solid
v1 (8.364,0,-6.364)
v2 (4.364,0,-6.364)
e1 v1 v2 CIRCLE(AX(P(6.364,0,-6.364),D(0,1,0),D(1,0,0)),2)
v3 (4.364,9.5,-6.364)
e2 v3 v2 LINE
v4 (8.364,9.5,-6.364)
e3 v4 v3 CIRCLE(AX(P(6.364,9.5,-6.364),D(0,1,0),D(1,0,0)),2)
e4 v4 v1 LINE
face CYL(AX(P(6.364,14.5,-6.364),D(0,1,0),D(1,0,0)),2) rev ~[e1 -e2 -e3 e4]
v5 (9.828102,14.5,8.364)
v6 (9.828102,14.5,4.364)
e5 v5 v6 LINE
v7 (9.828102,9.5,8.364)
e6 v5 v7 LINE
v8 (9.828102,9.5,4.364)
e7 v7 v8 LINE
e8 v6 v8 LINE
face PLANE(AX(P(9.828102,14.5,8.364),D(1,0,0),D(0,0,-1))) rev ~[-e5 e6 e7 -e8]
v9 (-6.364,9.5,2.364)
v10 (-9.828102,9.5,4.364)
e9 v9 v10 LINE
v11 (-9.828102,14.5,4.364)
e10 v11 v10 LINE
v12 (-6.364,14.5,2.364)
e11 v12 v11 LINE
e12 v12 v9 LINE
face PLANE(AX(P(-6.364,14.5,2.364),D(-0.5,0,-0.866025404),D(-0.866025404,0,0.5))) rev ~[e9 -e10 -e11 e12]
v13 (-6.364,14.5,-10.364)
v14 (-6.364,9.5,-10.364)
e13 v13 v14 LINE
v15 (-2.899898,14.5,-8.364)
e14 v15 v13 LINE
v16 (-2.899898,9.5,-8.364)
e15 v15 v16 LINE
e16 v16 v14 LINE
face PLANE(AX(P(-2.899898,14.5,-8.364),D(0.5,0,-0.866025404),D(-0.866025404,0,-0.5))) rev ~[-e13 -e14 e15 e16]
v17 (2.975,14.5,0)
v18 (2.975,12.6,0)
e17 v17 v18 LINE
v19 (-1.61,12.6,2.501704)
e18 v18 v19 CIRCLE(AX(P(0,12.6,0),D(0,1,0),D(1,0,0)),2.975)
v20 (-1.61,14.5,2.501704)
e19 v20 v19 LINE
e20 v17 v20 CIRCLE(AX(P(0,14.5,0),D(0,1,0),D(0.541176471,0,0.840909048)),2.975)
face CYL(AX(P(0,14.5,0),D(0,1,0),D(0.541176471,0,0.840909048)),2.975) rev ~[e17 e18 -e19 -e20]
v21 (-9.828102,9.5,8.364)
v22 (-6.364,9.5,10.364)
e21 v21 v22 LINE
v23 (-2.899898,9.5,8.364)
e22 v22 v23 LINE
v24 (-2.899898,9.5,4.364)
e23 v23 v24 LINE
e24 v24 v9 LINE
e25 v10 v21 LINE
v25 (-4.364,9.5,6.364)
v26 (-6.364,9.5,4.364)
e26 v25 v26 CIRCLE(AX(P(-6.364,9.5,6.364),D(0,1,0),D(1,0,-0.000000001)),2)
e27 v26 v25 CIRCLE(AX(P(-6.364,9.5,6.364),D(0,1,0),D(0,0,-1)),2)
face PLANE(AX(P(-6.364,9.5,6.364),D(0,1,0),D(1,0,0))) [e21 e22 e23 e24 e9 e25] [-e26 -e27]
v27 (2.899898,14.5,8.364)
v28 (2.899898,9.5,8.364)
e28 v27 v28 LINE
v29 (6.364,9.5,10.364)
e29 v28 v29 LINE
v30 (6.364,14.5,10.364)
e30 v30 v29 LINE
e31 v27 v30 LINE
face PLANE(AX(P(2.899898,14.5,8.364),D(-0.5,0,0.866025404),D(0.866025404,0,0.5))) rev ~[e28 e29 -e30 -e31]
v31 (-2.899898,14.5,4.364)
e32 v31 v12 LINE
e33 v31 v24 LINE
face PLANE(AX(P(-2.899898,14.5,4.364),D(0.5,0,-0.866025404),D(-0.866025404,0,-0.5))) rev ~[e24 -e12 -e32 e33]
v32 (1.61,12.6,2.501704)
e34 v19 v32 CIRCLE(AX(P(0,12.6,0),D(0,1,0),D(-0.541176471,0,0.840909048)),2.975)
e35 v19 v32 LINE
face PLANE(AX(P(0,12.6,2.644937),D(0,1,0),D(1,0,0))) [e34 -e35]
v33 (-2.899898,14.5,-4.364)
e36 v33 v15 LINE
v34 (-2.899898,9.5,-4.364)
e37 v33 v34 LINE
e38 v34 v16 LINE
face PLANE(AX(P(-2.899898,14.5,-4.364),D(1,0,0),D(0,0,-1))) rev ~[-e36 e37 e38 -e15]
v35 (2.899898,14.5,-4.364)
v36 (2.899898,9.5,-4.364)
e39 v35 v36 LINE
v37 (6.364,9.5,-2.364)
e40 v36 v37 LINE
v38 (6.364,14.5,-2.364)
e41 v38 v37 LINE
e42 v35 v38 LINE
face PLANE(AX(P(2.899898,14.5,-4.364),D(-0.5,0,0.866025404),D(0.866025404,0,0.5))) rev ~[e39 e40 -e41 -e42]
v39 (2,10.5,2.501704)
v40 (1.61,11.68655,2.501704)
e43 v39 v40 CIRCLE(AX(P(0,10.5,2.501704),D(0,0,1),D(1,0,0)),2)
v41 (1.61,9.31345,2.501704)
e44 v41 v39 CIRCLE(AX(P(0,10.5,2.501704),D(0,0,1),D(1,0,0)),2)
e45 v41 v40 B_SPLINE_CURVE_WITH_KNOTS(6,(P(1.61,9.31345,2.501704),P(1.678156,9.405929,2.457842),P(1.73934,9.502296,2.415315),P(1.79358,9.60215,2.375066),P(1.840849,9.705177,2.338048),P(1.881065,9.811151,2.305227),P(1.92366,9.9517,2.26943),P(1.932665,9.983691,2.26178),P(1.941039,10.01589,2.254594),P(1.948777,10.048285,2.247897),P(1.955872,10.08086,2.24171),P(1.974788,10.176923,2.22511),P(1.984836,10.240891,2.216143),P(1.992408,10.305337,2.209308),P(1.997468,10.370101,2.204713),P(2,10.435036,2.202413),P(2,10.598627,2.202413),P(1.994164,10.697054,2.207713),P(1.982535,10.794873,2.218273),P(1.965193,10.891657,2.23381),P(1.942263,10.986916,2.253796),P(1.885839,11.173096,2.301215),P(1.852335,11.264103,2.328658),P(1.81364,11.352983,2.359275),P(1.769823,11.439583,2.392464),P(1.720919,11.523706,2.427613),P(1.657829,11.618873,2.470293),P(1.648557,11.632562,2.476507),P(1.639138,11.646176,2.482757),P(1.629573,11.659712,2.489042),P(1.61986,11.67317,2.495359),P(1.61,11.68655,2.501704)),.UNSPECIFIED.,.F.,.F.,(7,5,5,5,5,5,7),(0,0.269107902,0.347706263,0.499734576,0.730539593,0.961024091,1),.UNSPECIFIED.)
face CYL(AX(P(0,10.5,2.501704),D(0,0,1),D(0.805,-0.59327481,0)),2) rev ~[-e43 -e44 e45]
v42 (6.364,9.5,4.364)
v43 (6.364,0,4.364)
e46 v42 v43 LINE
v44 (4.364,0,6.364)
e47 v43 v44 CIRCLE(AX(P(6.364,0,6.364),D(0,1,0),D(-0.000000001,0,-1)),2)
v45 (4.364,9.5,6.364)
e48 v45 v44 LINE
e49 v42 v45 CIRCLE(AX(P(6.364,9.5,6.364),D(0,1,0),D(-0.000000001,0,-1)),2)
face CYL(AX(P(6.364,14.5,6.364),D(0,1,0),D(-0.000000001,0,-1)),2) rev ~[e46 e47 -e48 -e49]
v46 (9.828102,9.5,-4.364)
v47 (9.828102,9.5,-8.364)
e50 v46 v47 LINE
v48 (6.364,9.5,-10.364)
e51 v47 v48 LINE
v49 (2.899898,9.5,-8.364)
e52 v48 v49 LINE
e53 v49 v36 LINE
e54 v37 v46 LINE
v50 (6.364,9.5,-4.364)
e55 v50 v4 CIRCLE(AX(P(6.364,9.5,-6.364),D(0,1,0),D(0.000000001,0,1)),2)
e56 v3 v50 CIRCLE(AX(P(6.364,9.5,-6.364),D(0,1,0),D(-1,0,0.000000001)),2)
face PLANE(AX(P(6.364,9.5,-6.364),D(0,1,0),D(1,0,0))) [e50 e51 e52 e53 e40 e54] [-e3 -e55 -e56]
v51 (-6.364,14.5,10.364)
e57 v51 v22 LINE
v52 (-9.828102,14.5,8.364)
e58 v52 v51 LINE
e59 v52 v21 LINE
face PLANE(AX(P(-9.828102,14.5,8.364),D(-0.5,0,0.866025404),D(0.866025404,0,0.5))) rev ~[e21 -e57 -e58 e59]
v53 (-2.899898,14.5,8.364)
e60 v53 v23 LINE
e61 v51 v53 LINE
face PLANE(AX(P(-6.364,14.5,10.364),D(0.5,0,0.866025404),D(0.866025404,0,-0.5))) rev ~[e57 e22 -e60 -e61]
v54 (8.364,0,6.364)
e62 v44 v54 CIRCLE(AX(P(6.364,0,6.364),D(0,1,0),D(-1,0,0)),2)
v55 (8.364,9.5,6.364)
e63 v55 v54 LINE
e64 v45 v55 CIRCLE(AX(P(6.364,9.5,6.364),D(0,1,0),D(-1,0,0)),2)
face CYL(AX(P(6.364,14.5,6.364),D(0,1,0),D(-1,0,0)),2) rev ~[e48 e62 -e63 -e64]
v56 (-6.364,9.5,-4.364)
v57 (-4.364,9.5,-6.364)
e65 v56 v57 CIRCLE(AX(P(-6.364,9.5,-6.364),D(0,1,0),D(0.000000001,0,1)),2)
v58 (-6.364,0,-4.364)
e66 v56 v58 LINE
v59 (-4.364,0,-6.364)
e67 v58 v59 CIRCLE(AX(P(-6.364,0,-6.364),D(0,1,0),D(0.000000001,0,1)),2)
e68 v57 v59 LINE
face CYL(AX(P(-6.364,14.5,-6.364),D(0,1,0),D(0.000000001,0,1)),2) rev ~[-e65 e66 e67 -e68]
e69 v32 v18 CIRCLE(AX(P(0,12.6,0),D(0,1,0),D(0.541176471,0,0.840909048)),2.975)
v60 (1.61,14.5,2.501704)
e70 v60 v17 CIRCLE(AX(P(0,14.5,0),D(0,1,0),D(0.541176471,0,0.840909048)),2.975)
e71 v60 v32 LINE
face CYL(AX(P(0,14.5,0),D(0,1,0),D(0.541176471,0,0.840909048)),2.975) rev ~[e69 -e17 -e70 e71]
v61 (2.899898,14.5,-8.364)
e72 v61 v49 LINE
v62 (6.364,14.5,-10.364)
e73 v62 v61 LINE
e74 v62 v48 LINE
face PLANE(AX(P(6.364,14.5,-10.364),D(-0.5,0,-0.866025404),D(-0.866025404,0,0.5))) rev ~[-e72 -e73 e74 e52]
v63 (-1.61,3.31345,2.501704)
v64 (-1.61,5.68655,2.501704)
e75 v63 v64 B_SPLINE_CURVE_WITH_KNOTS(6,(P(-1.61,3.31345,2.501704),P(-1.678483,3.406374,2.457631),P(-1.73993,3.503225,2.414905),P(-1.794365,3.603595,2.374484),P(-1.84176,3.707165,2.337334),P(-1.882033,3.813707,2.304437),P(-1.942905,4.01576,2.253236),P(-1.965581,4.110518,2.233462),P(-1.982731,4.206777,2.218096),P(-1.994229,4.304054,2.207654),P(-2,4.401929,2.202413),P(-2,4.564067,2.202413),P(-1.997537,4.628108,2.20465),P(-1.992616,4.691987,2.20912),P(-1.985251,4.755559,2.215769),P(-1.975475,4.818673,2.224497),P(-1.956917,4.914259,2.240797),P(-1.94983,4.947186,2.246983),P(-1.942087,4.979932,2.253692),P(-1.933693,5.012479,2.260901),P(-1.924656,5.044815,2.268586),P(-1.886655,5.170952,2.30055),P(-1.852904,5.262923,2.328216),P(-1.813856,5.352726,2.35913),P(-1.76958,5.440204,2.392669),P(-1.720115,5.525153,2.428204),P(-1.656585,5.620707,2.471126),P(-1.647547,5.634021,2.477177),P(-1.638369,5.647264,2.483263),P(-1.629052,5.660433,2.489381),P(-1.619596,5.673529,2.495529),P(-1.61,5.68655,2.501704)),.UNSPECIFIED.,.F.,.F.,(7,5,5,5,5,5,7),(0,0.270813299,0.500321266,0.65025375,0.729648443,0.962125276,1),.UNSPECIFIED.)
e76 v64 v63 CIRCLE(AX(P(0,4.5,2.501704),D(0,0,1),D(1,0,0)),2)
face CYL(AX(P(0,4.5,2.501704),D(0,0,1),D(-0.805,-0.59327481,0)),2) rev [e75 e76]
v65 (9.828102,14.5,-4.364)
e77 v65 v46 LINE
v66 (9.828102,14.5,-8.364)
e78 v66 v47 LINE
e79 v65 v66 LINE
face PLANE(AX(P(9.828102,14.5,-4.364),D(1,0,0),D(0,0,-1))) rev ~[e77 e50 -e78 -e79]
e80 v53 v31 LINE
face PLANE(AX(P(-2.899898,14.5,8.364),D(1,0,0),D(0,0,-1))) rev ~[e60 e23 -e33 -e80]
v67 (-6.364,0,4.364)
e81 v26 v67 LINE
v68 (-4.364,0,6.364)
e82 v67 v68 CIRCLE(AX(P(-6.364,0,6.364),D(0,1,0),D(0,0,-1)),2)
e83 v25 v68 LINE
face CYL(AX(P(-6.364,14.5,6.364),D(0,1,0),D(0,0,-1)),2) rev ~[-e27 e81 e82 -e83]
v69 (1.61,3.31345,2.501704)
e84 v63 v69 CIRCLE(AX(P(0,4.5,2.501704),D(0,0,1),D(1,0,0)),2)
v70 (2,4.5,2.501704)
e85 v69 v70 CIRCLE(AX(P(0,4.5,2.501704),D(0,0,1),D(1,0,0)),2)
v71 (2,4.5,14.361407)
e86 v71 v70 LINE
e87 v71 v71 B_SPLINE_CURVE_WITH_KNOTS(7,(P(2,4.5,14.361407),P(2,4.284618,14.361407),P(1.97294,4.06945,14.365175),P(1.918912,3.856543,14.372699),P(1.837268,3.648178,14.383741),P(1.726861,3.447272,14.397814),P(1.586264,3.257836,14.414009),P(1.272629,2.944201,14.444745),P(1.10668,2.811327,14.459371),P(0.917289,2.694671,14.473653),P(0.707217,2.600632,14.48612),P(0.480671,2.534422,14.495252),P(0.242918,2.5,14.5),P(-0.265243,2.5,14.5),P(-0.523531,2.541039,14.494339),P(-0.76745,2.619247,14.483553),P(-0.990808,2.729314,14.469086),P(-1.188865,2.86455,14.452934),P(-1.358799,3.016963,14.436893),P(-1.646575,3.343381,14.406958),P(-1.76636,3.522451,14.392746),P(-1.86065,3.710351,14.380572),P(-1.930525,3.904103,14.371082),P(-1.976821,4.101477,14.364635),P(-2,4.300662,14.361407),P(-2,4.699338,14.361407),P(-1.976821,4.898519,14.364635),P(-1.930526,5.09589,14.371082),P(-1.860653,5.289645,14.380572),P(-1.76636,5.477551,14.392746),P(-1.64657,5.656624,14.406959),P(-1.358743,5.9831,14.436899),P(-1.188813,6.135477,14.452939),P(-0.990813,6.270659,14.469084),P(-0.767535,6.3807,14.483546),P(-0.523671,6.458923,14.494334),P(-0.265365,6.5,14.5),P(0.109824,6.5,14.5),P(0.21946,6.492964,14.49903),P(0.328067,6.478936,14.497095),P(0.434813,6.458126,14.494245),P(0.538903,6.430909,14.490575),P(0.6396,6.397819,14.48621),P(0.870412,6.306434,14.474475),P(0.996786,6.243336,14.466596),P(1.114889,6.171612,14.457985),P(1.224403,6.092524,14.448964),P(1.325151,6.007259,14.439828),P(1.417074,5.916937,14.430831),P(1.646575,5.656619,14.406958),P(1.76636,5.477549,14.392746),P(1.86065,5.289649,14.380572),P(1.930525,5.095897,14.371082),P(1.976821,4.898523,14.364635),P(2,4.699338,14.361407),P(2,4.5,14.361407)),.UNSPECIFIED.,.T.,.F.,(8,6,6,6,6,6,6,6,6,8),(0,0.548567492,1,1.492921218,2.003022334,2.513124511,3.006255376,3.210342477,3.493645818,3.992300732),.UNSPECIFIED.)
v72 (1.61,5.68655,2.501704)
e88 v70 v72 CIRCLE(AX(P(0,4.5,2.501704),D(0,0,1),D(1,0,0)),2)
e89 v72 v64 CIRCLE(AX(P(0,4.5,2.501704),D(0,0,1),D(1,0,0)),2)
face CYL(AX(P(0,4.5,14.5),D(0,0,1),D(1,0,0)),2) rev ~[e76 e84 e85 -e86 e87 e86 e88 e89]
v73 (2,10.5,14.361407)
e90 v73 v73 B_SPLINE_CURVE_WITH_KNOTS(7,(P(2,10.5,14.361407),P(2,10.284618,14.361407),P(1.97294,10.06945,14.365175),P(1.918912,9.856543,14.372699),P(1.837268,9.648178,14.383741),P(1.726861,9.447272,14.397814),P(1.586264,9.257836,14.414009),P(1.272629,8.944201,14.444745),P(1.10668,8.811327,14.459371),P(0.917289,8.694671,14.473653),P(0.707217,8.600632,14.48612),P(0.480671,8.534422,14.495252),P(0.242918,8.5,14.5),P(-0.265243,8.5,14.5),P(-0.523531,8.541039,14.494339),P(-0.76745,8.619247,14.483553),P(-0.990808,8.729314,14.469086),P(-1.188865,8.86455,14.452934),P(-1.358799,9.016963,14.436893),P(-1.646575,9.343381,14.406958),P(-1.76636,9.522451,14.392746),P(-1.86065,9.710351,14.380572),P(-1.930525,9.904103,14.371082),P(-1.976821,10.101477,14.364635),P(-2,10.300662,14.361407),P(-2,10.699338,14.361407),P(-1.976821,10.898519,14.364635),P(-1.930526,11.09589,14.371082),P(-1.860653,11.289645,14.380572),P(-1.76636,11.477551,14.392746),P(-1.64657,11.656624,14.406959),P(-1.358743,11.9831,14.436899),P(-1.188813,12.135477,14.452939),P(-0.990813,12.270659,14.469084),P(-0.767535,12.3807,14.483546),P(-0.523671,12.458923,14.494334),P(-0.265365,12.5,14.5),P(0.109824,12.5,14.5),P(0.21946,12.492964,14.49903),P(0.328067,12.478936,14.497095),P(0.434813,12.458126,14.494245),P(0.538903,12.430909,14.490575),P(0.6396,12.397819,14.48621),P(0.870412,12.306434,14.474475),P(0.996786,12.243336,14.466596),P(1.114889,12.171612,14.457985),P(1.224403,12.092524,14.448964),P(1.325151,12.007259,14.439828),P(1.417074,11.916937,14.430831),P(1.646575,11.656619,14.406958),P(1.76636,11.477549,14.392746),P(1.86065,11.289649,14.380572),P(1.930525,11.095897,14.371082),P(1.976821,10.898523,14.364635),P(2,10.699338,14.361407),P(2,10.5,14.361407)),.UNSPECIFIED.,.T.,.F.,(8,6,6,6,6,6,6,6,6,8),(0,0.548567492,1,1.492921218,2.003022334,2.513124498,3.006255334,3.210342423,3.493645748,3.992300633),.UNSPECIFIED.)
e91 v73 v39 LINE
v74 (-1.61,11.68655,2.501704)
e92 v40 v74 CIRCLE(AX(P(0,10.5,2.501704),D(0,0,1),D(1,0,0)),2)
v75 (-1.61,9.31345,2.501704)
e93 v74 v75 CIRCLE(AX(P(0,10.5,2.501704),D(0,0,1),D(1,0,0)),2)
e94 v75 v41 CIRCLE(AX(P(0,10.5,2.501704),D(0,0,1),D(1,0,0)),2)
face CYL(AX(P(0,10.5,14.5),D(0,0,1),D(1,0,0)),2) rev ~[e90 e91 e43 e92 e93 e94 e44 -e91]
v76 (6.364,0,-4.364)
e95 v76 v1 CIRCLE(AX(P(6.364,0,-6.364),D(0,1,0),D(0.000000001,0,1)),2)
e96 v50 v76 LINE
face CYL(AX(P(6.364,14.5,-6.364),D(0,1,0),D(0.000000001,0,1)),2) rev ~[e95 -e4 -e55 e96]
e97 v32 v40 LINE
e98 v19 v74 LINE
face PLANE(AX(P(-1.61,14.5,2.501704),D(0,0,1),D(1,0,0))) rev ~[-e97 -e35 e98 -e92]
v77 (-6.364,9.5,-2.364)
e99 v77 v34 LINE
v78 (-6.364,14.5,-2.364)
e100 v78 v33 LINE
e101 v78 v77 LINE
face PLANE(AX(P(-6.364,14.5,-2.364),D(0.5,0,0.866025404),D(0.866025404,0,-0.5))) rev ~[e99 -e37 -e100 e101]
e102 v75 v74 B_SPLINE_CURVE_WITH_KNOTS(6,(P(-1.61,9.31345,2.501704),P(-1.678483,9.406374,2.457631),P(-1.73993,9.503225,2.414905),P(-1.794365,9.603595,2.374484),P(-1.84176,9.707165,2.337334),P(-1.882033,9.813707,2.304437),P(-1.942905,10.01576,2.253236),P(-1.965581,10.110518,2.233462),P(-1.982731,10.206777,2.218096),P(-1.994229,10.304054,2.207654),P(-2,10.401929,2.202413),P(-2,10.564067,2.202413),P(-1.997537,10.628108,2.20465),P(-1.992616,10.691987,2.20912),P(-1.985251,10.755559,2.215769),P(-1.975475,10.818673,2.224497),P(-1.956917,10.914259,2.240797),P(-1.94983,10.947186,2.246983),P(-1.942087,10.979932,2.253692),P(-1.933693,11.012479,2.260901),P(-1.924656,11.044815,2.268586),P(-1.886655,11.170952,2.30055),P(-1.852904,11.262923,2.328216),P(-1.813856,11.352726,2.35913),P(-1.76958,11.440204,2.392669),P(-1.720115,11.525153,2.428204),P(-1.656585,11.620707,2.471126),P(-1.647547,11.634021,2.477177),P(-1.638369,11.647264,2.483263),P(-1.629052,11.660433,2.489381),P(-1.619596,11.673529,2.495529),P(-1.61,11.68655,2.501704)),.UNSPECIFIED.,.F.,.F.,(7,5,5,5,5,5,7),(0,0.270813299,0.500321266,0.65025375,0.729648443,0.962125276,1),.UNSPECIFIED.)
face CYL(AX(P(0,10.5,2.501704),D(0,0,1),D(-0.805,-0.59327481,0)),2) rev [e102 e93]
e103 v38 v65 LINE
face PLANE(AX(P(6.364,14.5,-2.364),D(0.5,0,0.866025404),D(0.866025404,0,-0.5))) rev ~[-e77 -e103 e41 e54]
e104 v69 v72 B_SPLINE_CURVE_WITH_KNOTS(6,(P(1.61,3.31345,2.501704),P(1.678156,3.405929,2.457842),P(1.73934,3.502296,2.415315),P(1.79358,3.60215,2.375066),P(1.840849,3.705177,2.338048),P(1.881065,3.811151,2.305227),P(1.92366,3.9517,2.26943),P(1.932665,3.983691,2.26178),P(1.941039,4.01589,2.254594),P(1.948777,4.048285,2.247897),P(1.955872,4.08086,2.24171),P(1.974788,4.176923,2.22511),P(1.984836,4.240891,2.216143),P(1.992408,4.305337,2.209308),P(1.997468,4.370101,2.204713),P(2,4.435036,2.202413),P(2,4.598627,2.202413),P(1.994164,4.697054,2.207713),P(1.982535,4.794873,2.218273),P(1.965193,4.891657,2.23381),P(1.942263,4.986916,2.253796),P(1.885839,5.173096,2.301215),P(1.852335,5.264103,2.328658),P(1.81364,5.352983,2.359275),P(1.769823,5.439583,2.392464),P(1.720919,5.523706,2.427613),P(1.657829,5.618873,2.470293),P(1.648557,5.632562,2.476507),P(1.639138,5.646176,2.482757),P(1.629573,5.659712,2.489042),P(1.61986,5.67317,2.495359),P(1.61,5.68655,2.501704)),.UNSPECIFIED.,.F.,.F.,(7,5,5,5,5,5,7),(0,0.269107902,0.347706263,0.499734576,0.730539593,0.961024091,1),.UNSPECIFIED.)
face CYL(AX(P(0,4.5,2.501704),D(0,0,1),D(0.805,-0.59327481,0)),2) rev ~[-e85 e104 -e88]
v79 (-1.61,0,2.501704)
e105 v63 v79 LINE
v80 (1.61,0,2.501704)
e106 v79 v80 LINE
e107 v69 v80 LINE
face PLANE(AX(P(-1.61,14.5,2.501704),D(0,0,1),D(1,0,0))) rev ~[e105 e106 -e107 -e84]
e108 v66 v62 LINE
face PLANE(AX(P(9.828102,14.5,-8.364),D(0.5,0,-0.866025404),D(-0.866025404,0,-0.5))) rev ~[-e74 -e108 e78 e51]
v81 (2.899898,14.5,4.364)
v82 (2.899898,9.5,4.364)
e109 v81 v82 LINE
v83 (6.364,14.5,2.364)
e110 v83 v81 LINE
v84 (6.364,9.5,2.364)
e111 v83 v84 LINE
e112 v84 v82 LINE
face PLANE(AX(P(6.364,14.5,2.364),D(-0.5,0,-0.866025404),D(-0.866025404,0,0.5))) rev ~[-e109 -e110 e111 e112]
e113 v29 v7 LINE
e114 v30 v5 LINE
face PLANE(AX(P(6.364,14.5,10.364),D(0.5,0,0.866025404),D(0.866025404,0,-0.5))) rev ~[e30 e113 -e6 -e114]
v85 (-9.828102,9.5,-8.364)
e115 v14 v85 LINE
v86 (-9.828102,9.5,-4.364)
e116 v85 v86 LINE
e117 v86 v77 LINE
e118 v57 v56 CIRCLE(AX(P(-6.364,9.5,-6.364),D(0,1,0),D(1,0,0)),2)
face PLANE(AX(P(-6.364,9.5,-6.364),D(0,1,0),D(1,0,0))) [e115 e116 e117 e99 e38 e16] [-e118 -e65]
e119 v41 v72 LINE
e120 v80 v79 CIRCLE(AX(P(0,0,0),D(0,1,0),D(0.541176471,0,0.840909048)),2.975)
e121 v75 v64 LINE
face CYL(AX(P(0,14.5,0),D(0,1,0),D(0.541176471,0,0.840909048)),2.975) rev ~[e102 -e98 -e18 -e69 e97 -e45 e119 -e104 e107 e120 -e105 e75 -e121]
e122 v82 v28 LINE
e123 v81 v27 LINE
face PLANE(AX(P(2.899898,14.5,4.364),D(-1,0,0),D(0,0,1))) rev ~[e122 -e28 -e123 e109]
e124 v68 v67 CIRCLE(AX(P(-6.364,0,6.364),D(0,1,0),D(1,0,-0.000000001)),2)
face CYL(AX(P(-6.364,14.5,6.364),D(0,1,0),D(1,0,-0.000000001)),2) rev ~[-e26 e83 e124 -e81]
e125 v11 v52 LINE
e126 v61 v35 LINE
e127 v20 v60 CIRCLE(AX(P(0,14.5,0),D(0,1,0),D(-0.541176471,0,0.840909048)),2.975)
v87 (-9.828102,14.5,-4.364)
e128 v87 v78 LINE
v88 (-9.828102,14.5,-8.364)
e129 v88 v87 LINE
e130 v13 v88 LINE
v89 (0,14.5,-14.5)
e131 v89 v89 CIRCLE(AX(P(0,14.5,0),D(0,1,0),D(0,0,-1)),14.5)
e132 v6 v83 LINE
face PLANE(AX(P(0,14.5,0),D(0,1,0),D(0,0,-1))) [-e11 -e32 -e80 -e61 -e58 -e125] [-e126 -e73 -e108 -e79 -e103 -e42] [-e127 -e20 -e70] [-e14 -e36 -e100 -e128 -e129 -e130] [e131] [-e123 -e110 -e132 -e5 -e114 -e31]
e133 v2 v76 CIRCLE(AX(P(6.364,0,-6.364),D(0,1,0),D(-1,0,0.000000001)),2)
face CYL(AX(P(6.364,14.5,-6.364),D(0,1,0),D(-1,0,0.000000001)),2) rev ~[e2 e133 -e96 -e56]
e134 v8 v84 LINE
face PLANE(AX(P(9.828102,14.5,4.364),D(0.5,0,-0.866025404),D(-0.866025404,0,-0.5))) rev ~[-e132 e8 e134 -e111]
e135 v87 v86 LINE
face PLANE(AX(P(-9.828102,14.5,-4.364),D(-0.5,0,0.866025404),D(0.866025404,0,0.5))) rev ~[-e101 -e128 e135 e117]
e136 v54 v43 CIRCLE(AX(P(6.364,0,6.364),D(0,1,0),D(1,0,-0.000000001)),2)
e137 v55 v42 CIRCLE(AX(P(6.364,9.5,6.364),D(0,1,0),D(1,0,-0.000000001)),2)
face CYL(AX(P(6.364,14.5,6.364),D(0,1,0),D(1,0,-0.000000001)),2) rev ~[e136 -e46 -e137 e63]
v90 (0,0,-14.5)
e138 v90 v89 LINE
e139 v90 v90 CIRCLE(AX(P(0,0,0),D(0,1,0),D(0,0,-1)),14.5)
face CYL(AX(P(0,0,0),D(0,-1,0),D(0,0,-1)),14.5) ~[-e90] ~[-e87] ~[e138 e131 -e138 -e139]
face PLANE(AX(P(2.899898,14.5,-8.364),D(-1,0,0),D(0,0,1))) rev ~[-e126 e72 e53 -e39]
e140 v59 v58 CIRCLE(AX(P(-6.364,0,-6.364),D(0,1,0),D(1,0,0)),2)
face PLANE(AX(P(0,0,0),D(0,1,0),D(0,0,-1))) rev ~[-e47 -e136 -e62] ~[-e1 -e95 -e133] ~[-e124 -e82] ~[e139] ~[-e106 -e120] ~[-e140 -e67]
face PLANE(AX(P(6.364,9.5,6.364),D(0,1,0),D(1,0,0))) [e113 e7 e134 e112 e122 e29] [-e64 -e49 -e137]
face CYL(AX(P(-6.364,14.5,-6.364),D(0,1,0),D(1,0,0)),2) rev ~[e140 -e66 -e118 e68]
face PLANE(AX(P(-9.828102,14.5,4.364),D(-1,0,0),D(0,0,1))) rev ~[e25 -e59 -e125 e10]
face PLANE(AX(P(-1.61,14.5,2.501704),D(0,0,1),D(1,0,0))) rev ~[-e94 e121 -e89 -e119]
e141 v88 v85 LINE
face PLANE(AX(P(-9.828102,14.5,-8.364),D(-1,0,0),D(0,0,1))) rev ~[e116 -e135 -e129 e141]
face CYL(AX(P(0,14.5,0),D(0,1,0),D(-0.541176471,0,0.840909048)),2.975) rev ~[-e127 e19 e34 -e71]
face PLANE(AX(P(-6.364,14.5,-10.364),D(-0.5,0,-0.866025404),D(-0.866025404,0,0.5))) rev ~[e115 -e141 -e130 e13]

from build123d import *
from build123d.topology import SkipClean

# Parameters (mm, degrees)
CROQUIS1_R              = 14.5
SALIENTE_EXTRUIR1_DEPTH = 14.5
CORTAR_EXTRUIR1_DEPTH   = 26.11473671
CORTAR_EXTRUIR2_DEPTH   = 26.11473671
CORTAR_EXTRUIR3_DEPTH   = 5
MATRIZL1_COUNT          = 2
MATRIZL1_PITCH          = 12.728
MATRIZL1_COUNT_DIR2     = 2
MATRIZL1_PITCH_DIR2     = 12.728
CROQUIS6_R              = 2
CORTAR_EXTRUIR4_DEPTH   = 11.998295581
CORTAR_EXTRUIR5_DEPTH   = 1
CORTAR_EXTRUIR9_DEPTH   = 1.9


with BuildPart() as part:
    # Croquis1 → Saliente-Extruir1 (new body)
    with BuildSketch(Plane(origin=(0, 0, 0), x_dir=(1, 0, 0), z_dir=(0, 1, 0))):
        with Locations(Location((0, 0, 0), (0, 0, 90))):
            Circle(CROQUIS1_R)
    extrude(amount=SALIENTE_EXTRUIR1_DEPTH)

    # Croquis2 → Cortar-Extruir1 (cut, through all)
    with BuildSketch(Plane(origin=(0, 14.5, 0), x_dir=(1, 0, 0), z_dir=(0, 1, 0))):
        with BuildLine():
            Line((-1.61, -2.501704419), (1.61, -2.501704419))
            ThreePointArc((1.61, -2.501704419), (0, 2.975), (-1.61, -2.501704419))
        make_face()
    extrude(amount=-CORTAR_EXTRUIR1_DEPTH, mode=Mode.SUBTRACT)

    # Croquis3 → Cortar-Extruir2 (cut, through all)
    with BuildSketch(Plane(origin=(0, 14.5, 0), x_dir=(1, 0, 0), z_dir=(0, 1, 0))):
        with BuildLine():
            ThreePointArc((-4.364, 6.364), (-7.778213562, 7.778213562), (-6.364, 4.364))
            Line((-6.364, 4.364), (-6.364, 6.364))
            Line((-6.364, 6.364), (-4.364, 6.364))
        make_face()
        with BuildLine():
            Line((-6.364, 6.364), (-6.364, 4.364))
            ThreePointArc((-6.364, 4.364), (-4.949786438, 4.949786438), (-4.364, 6.364))
            Line((-4.364, 6.364), (-6.364, 6.364))
        make_face()
        with BuildLine():
            Line((-6.364, -4.364), (-6.364, -6.364))
            Line((-6.364, -6.364), (-4.364, -6.364))
            ThreePointArc((-4.364, -6.364), (-4.949786438, -4.949786438), (-6.364, -4.364))
        make_face()
        with BuildLine():
            Line((-4.364, -6.364), (-6.364, -6.364))
            Line((-6.364, -6.364), (-6.364, -4.364))
            ThreePointArc((-6.364, -4.364), (-7.778213562, -7.778213562), (-4.364, -6.364))
        make_face()
        with BuildLine():
            ThreePointArc((6.364, -4.364), (4.949786438, -4.949786438), (4.364, -6.364))
            Line((4.364, -6.364), (6.364, -6.364))
            Line((6.364, -6.364), (6.364, -4.364))
        make_face()
        with BuildLine():
            Line((6.364, -6.364), (4.364, -6.364))
            ThreePointArc((4.364, -6.364), (6.364, -8.364), (8.364, -6.364))
            ThreePointArc((8.364, -6.364), (7.778213562, -4.949786438), (6.364, -4.364))
            Line((6.364, -4.364), (6.364, -6.364))
        make_face()
        with BuildLine():
            ThreePointArc((4.364, 6.364), (4.949786438, 4.949786438), (6.364, 4.364))
            Line((6.364, 4.364), (6.364, 6.364))
            Line((6.364, 6.364), (4.364, 6.364))
        make_face()
        with BuildLine():
            Line((6.364, 6.364), (6.364, 4.364))
            ThreePointArc((6.364, 4.364), (7.778213562, 4.949786438), (8.364, 6.364))
            ThreePointArc((8.364, 6.364), (6.364, 8.364), (4.364, 6.364))
            Line((4.364, 6.364), (6.364, 6.364))
        make_face()
    extrude(amount=-CORTAR_EXTRUIR2_DEPTH, mode=Mode.SUBTRACT)

    # Croquis5 → Cortar-Extruir3 (cut)
    with BuildSketch(Plane(origin=(0, 14.5, 0), x_dir=(1, 0, 0), z_dir=(0, 1, 0))):
        Polygon((-6.364, 2.364), (-2.899898385, 4.364), (-2.899898385, 8.364), (-6.364, 10.364), (-9.828101615, 8.364), (-9.828101615, 4.364), align=None)
    cortar_extruir3 = extrude(amount=-CORTAR_EXTRUIR3_DEPTH, mode=Mode.SUBTRACT)

    # MatrizL1: Cortar-Extruir3 2 × 2
    with Locations(*[(i * MATRIZL1_PITCH, 0, j * MATRIZL1_PITCH_DIR2) for i in range(MATRIZL1_COUNT) for j in range(MATRIZL1_COUNT_DIR2) if (i, j) != (0, 0)]):
        add(cortar_extruir3, mode=Mode.SUBTRACT)

    # Croquis6 → Cortar-Extruir4 (cut)
    with BuildSketch(Plane.XY.offset(14.5)):
        with Locations((0, 10.5)):
            Circle(CROQUIS6_R)
        with Locations((0, 4.5)):
            Circle(CROQUIS6_R)
    extrude(amount=-CORTAR_EXTRUIR4_DEPTH, mode=Mode.SUBTRACT)

    # Croquis9 → Cortar-Extruir5 (cut)
    with SkipClean():  # the faces are left unmerged after this step: merging them gives an invalid solid
        with BuildSketch(Plane.XY.offset(2.501704419)):
            with BuildLine():
                Line((-1.61, 11.68654962), (-1.61, 9.31345038))
                ThreePointArc((-1.61, 9.31345038), (-2, 10.5), (-1.61, 11.68654962))
            make_face()
            with BuildLine():
                Line((1.61, 11.68654962), (1.61, 9.31345038))
                ThreePointArc((1.61, 9.31345038), (2, 10.5), (1.61, 11.68654962))
            make_face()
            with BuildLine():
                Line((-1.61, 5.68654962), (-1.61, 3.31345038))
                ThreePointArc((-1.61, 3.31345038), (-2, 4.5), (-1.61, 5.68654962))
            make_face()
            with BuildLine():
                Line((1.61, 5.68654962), (1.61, 3.31345038))
                ThreePointArc((1.61, 3.31345038), (2, 4.5), (1.61, 5.68654962))
            make_face()
        extrude(amount=-CORTAR_EXTRUIR5_DEPTH, mode=Mode.SUBTRACT)

    # Croquis11 → Cortar-Extruir9 (cut)
    with SkipClean():  # the faces are left unmerged after this step: merging them gives an invalid solid
        with BuildSketch(Plane(origin=(0, 14.5, 0), x_dir=(1, 0, 0), z_dir=(0, 1, 0))):
            with BuildLine():
                ThreePointArc((2.975, 0), (-1.424934209, 2.61154887), (-1.61, -2.501704419))
                Line((-1.61, -2.501704419), (1.61, -2.501704419))
                ThreePointArc((1.61, -2.501704419), (2.61154887, -1.424934209), (2.975, 0))
            make_face()
            with BuildLine():
                Line((1.61, -2.501704419), (-1.61, -2.501704419))
                ThreePointArc((-1.61, -2.501704419), (0, -2.975), (1.61, -2.501704419))
            make_face()
        extrude(amount=-CORTAR_EXTRUIR9_DEPTH, mode=Mode.SUBTRACT)


solid = part.part
